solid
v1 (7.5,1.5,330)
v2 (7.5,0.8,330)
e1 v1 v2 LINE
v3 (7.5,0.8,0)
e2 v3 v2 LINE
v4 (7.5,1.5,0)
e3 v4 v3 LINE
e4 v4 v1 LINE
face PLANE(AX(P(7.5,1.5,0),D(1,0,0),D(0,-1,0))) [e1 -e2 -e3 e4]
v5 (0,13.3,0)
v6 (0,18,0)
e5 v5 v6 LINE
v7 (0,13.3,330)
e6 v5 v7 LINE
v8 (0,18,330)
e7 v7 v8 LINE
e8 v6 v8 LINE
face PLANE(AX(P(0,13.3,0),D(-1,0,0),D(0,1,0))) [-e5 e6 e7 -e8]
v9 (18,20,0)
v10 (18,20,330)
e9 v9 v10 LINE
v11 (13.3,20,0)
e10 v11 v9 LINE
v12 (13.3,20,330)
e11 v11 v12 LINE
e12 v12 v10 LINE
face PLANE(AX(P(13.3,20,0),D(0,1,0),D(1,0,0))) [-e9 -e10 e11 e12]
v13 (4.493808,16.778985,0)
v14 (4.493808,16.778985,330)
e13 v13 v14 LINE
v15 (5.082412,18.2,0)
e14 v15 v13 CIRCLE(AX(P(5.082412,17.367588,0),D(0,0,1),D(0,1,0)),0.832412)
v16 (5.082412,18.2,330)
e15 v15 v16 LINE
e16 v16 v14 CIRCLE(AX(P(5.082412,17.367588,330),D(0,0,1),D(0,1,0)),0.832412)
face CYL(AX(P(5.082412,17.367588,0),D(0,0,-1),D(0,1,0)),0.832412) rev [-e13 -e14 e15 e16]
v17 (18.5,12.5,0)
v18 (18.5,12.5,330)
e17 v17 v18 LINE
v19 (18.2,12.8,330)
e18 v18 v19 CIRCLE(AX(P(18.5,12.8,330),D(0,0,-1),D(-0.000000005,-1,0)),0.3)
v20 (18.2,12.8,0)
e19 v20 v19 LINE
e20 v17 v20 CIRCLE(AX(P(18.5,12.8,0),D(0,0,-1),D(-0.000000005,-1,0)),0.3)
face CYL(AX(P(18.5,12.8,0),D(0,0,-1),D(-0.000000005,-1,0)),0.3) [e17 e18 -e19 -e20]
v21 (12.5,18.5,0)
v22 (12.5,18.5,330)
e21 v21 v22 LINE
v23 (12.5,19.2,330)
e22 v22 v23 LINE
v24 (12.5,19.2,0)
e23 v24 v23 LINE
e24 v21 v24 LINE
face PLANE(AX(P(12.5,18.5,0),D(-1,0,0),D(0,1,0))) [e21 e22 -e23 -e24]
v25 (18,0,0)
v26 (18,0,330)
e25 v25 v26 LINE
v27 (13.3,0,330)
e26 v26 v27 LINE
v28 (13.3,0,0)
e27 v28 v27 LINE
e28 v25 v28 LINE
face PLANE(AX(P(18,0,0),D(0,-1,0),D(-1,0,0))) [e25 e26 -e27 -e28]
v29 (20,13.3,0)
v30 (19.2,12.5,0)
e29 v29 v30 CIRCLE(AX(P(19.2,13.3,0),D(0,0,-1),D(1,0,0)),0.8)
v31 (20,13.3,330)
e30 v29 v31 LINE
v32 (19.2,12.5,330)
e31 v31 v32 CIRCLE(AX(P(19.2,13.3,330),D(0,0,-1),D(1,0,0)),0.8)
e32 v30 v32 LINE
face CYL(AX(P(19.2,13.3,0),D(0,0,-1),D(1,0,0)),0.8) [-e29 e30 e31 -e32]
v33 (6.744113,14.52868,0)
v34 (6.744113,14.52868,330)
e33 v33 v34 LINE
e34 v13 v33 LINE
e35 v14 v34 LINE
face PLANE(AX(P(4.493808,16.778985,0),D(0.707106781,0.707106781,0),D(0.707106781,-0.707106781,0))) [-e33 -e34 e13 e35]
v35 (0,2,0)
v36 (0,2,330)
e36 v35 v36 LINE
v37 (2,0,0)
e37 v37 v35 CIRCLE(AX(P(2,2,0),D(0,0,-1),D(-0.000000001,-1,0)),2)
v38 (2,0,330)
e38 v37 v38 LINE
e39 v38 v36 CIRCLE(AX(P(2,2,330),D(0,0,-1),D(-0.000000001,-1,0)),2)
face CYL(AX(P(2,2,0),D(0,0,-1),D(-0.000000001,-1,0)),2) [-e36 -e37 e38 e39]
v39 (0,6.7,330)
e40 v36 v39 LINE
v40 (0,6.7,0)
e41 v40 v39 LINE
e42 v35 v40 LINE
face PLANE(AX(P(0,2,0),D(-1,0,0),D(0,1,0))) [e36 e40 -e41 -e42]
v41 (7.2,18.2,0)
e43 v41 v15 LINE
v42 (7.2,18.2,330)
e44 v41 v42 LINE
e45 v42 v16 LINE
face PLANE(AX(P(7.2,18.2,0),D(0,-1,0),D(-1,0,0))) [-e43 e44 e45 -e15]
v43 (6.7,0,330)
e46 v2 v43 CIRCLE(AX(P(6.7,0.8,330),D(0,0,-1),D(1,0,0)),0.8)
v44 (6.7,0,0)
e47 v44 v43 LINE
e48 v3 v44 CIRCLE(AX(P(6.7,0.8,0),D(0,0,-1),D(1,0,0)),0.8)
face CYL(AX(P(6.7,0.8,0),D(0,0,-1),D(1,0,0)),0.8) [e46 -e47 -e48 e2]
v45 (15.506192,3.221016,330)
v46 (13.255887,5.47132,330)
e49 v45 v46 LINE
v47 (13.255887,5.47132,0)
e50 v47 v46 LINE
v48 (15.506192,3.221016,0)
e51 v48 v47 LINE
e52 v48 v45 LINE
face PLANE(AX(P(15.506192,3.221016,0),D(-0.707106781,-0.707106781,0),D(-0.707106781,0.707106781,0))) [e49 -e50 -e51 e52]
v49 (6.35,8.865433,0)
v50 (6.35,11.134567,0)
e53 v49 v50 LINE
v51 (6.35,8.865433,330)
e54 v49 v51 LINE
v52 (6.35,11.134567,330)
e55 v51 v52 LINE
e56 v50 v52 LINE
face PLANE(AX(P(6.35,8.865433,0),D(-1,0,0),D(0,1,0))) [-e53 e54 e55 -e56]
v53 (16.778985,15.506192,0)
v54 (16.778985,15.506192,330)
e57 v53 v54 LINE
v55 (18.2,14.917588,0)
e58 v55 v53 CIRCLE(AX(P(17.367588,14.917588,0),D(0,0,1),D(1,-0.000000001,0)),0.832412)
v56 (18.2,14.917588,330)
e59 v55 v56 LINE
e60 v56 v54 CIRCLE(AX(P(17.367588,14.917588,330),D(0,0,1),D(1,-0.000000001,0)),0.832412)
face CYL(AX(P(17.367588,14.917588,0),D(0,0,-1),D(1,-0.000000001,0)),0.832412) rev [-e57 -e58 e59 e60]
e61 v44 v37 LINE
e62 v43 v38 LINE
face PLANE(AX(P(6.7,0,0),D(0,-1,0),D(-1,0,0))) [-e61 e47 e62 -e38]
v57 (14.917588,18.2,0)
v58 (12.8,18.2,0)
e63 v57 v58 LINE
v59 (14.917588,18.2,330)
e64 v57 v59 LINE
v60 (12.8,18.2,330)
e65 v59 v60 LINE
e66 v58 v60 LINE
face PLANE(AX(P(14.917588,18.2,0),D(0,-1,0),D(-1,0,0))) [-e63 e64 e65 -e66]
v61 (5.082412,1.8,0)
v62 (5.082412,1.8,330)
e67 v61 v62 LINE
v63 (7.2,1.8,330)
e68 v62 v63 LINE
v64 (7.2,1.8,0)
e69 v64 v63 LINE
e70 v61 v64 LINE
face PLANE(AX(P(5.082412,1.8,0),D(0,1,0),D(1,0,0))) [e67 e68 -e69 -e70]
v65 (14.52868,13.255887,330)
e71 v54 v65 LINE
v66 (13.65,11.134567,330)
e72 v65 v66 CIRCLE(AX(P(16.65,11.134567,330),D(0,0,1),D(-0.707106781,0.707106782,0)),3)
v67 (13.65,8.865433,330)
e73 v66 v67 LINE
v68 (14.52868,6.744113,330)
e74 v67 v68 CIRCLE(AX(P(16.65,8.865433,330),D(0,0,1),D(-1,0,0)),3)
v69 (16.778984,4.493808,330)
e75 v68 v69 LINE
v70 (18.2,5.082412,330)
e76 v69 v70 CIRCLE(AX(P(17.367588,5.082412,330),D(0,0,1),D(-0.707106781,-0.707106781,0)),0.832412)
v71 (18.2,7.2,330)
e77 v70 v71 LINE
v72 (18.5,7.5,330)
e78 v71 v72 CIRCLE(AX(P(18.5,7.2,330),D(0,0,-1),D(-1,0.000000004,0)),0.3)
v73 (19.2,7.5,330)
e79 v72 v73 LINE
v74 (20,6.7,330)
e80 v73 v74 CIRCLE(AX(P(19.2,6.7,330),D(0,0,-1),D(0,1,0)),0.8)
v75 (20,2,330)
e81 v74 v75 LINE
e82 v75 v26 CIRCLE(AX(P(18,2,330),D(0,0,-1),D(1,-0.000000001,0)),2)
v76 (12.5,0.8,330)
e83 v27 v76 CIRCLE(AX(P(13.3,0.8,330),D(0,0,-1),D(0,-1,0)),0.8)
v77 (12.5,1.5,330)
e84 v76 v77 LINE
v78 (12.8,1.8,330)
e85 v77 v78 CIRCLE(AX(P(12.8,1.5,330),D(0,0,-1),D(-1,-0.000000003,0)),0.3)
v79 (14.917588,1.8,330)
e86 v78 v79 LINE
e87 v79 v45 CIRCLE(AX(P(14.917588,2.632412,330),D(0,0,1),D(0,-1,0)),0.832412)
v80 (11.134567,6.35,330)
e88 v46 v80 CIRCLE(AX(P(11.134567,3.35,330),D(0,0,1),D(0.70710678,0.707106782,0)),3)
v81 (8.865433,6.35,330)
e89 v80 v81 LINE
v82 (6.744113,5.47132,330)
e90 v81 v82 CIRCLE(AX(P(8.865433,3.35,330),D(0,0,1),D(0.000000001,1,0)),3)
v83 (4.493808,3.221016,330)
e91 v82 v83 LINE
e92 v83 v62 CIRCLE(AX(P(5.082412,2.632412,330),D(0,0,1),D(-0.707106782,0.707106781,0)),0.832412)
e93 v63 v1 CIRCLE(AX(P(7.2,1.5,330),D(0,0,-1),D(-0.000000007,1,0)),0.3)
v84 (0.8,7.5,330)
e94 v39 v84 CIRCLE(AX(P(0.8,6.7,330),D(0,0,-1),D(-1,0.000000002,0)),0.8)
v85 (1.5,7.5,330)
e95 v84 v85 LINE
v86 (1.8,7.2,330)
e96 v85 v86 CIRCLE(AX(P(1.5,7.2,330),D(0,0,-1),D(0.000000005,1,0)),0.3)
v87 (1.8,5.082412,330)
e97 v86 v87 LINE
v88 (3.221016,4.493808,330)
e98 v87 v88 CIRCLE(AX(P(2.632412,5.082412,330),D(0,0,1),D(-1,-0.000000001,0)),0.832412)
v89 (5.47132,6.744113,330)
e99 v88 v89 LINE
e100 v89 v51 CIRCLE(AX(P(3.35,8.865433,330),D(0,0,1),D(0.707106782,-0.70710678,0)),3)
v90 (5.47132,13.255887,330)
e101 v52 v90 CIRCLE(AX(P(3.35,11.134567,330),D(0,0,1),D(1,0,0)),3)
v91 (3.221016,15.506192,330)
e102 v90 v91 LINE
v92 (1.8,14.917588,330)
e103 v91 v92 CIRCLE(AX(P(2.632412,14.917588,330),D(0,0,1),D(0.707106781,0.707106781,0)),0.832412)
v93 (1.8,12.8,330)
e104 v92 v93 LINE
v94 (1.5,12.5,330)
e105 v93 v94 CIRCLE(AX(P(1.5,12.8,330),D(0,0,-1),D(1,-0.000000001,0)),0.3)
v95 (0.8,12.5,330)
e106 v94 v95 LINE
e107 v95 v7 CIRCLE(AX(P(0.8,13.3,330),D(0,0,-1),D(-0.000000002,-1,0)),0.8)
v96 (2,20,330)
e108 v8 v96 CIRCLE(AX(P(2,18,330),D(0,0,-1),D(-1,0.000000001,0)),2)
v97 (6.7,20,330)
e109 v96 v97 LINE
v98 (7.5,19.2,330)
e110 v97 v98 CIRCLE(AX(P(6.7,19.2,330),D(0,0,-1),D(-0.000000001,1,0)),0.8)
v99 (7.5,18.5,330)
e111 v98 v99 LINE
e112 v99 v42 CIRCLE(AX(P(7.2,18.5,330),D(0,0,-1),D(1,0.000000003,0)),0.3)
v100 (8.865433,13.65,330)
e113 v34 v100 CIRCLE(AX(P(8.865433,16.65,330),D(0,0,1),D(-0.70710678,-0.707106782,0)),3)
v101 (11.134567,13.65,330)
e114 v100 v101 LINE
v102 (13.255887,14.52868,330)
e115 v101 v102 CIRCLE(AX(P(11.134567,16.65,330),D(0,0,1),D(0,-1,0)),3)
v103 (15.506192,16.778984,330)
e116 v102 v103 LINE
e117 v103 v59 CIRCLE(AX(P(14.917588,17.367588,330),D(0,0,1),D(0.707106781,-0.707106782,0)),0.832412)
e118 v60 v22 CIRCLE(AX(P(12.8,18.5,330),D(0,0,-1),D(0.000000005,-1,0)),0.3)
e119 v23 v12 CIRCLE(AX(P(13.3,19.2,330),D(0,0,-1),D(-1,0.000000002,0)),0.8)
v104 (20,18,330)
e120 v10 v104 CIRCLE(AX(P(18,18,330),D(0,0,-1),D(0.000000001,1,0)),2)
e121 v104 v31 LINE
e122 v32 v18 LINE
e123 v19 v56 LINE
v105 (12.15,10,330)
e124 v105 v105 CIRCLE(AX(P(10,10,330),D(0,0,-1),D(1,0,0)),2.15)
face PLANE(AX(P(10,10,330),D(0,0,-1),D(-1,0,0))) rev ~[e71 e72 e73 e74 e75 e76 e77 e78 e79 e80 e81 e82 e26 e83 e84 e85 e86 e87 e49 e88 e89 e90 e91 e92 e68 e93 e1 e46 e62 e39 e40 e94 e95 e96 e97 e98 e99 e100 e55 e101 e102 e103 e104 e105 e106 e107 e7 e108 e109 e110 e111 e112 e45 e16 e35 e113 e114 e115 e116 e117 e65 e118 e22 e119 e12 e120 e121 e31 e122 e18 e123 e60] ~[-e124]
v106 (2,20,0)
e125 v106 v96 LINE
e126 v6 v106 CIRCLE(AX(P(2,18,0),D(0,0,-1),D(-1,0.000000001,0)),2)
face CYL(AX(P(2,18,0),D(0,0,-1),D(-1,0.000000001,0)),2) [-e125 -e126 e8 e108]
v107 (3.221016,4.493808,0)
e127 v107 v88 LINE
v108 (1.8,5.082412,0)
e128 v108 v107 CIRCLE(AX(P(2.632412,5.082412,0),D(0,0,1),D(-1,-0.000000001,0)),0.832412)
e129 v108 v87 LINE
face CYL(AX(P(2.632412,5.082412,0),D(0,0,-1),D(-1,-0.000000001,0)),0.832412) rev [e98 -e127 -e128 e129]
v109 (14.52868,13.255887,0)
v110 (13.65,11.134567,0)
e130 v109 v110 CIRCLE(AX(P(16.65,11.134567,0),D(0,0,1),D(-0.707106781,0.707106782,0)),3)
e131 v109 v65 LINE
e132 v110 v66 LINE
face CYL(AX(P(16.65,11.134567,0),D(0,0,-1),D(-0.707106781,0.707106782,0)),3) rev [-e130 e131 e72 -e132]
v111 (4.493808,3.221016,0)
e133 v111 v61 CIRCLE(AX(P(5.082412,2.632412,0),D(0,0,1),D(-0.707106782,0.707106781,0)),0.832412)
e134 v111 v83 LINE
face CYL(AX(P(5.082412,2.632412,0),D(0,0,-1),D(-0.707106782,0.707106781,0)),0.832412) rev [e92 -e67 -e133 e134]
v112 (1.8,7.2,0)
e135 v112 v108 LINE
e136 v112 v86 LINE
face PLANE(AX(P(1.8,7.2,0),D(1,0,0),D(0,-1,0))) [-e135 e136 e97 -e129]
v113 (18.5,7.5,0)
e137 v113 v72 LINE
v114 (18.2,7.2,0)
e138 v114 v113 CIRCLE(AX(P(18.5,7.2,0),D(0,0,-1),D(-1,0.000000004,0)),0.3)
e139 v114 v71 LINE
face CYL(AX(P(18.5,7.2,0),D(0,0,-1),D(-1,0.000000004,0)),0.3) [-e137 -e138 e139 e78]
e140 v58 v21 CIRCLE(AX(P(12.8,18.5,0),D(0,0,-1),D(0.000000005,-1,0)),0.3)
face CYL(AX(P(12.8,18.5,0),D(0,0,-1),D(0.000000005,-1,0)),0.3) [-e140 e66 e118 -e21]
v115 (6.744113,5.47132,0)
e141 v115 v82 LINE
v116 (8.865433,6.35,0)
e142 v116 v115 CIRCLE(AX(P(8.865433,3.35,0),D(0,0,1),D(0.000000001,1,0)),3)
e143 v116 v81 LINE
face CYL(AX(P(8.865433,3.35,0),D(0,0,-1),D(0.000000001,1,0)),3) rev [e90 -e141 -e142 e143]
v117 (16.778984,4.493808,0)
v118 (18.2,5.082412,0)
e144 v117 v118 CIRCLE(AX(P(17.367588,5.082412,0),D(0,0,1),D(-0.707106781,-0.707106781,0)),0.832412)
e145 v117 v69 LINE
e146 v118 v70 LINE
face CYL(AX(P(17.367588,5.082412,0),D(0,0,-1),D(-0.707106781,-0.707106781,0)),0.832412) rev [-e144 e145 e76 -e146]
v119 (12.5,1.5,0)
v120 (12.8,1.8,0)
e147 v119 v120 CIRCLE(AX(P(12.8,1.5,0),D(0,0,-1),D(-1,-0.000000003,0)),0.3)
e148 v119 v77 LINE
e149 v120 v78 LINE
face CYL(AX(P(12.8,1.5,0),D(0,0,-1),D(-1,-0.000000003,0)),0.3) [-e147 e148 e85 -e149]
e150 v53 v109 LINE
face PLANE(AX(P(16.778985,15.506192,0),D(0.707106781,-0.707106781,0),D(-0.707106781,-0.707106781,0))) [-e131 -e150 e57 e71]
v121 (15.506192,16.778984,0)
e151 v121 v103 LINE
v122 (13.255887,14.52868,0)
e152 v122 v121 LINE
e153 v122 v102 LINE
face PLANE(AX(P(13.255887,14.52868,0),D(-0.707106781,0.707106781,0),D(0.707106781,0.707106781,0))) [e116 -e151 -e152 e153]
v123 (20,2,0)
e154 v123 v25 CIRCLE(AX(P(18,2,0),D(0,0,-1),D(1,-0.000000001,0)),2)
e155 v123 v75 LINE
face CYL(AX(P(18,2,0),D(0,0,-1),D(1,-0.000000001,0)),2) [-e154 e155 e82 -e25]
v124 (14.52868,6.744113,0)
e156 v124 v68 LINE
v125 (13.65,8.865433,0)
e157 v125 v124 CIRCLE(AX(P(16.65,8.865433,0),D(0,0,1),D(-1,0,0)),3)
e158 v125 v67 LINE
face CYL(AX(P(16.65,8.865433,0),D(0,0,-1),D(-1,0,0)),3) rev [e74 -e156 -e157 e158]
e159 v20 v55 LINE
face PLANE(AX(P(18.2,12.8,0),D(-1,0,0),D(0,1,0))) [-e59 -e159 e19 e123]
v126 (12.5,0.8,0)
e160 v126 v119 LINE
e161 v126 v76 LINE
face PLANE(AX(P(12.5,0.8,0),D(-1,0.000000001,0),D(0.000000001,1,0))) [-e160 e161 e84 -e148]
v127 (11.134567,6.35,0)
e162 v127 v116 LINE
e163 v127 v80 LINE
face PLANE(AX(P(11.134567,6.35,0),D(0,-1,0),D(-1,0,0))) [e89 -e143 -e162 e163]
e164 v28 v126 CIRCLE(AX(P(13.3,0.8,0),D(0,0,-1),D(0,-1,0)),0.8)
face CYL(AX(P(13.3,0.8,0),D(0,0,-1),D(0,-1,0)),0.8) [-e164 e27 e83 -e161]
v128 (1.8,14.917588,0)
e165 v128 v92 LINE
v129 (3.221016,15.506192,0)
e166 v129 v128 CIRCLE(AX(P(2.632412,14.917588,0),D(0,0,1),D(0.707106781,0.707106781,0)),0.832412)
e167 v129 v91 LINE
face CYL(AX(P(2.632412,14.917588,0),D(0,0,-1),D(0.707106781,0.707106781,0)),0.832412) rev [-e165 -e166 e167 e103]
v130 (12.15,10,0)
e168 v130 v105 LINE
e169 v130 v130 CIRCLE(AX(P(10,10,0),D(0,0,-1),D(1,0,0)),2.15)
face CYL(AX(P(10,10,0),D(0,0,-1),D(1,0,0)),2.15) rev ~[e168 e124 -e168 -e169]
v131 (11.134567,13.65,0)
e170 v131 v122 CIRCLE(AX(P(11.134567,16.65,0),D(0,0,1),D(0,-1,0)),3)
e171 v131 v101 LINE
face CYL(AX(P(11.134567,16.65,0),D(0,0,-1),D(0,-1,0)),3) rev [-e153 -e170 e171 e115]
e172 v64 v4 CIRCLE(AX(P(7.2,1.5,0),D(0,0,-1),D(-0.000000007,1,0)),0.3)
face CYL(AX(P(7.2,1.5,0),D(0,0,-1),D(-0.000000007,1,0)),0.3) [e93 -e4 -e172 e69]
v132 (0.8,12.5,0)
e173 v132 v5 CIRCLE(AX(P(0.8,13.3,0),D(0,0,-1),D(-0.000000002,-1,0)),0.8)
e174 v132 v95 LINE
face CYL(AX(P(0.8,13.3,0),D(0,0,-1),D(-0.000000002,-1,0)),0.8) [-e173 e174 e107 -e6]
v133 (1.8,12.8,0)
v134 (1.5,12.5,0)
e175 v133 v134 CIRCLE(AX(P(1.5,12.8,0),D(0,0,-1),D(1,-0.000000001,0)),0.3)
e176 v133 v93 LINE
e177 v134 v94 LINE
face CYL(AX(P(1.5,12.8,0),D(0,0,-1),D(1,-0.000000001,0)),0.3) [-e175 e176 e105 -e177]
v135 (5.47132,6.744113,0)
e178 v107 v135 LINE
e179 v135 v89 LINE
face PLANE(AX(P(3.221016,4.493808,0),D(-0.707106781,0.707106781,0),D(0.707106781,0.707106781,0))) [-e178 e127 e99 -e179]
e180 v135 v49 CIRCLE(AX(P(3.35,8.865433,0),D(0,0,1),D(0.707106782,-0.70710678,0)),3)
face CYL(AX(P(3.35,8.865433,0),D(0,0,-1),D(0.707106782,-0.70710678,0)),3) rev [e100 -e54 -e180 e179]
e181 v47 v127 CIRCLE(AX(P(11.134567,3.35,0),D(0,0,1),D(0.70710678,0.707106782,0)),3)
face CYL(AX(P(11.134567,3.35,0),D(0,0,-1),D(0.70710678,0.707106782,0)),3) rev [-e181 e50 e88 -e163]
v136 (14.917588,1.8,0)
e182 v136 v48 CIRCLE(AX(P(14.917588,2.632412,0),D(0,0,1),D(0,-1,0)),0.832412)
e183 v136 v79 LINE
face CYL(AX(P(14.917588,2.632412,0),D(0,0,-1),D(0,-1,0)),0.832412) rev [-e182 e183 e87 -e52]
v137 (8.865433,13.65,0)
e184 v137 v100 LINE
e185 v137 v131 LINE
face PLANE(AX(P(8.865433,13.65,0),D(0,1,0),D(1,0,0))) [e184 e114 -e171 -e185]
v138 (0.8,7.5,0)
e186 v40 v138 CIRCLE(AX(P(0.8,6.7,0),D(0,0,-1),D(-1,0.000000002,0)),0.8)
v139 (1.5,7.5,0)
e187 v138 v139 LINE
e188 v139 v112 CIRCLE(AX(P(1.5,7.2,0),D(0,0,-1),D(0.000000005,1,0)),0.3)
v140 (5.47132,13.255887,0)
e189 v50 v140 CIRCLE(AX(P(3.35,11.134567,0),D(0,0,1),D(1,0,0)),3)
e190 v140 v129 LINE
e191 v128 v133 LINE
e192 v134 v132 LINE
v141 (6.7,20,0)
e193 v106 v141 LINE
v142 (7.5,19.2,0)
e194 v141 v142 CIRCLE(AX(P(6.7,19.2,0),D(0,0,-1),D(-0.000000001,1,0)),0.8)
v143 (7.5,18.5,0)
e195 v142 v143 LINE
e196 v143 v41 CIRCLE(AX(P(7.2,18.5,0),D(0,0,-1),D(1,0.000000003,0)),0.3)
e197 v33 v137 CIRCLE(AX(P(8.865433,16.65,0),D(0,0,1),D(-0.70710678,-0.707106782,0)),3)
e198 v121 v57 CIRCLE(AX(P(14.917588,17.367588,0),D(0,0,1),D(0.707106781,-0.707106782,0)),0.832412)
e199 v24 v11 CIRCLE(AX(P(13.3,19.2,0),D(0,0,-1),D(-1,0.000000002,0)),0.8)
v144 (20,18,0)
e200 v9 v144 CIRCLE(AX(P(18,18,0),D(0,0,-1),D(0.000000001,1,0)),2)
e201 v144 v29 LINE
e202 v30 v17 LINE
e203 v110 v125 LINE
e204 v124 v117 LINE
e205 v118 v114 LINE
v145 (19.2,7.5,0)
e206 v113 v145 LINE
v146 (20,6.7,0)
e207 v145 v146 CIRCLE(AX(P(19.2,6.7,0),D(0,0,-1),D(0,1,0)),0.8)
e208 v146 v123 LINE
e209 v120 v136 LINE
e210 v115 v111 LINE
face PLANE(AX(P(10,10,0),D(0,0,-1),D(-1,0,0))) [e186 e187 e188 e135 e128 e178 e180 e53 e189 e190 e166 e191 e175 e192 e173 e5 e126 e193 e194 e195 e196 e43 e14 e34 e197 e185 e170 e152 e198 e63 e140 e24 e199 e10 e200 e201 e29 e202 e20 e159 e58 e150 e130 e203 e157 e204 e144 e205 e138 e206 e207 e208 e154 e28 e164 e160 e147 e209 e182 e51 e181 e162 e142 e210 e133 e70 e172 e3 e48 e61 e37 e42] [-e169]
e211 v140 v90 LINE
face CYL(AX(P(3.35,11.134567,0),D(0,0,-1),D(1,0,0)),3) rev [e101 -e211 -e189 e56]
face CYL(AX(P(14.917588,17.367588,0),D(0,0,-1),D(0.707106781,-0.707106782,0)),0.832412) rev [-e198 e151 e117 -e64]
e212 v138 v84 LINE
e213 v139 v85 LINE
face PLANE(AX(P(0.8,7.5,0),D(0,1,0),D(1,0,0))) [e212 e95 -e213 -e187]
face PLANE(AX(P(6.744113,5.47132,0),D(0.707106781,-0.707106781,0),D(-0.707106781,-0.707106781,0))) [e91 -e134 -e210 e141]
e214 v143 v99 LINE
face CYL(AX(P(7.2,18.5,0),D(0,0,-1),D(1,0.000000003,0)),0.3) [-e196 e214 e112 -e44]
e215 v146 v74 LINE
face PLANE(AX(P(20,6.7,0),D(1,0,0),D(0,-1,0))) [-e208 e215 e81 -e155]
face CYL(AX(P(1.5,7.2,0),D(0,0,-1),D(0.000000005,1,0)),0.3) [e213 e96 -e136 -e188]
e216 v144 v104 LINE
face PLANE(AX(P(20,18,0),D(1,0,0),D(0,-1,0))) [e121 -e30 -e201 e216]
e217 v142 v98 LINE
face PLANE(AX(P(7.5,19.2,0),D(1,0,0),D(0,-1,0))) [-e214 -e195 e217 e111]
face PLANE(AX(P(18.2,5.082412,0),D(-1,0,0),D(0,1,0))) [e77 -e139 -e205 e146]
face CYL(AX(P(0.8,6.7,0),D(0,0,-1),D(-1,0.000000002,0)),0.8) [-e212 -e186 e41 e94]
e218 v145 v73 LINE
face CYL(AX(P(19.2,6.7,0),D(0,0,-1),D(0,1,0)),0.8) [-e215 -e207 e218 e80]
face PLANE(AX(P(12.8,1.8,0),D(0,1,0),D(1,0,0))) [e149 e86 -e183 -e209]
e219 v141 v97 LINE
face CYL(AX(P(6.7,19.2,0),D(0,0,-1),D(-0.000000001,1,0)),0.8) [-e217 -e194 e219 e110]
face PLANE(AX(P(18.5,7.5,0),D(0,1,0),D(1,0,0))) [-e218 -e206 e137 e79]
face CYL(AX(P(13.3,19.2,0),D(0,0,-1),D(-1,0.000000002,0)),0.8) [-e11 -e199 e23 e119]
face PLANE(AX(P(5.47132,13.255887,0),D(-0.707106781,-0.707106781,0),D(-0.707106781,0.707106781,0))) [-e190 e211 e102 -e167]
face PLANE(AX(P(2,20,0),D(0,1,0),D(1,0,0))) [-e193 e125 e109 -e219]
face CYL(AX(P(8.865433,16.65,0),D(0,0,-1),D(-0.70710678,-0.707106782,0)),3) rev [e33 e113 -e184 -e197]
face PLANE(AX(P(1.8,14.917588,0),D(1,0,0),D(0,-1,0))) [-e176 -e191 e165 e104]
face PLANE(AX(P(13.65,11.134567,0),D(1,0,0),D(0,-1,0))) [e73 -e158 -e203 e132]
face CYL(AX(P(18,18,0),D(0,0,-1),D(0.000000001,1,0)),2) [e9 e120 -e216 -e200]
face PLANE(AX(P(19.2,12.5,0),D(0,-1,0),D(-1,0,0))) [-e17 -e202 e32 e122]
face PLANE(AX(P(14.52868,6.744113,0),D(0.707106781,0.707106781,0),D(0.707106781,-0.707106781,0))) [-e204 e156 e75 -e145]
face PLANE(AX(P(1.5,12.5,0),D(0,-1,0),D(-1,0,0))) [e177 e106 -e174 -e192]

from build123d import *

# Parameters (mm, degrees)
ESQUISSE1_R        = 2.15
BOSS_EXTRU_1_DEPTH = 330


with BuildPart() as part:
    # Esquisse1 → Boss.-Extru.1 (new body)
    with BuildSketch(Plane(origin=(0, 0, 0), x_dir=(-1, 0, 0), z_dir=(0, 0, -1))):
        with BuildLine():
            Line((-12.499999997, 0.800000003), (-12.499999998, 1.500000003))
            ThreePointArc((-12.499999998, 1.500000003), (-12.587867964, 1.712132039), (-12.8, 1.800000005))
            Line((-12.8, 1.800000005), (-14.9175884, 1.800000005))
            ThreePointArc((-14.9175884, 1.800000005), (-15.686636444, 2.31386148), (-15.50619229, 3.2210155))
            Line((-15.50619229, 3.2210155), (-13.25588745, 5.47132034))
            ThreePointArc((-13.25588745, 5.47132034), (-12.282617404, 6.121638593), (-11.134567108, 6.349999996))
            Line((-11.134567108, 6.349999996), (-8.865432907, 6.349999996))
            ThreePointArc((-8.865432907, 6.349999996), (-7.717382611, 6.121638594), (-6.744112567, 5.471320341))
            Line((-6.744112567, 5.471320341), (-4.493807729, 3.221015503))
            ThreePointArc((-4.493807729, 3.221015503), (-4.313363575, 2.313861481), (-5.082411621, 1.800000005))
            Line((-5.082411621, 1.800000005), (-7.20000001, 1.800000005))
            ThreePointArc((-7.20000001, 1.800000005), (-7.412132045, 1.71213204), (-7.50000001, 1.500000005))
            Line((-7.50000001, 1.500000005), (-7.50000001, 0.8))
            ThreePointArc((-7.50000001, 0.8), (-7.265685435, 0.234314575), (-6.70000001, 0))
            Line((-6.70000001, 0), (-2, 0))
            ThreePointArc((-2, 0), (-0.585786438, 0.585786438), (0, 2))
            Line((0, 2), (0, 6.699999998))
            ThreePointArc((0, 6.699999998), (-0.234314576, 7.265685424), (-0.800000003, 7.5))
            Line((-0.800000003, 7.5), (-1.50000001, 7.5))
            ThreePointArc((-1.50000001, 7.5), (-1.712132046, 7.412132033), (-1.800000013, 7.199999997))
            Line((-1.800000013, 7.199999997), (-1.800000013, 5.082411603))
            ThreePointArc((-1.800000013, 5.082411603), (-2.313861487, 4.31336356), (-3.221015507, 4.493807713))
            Line((-3.221015507, 4.493807713), (-5.471320347, 6.744112553))
            ThreePointArc((-5.471320347, 6.744112553), (-6.1216386, 7.717382599), (-6.350000003, 8.865432896))
            Line((-6.350000003, 8.865432896), (-6.350000003, 11.134567102))
            ThreePointArc((-6.350000003, 11.134567102), (-6.121638601, 12.282617397), (-5.471320348, 13.255887442))
            Line((-5.471320348, 13.255887442), (-3.221015512, 15.506192278))
            ThreePointArc((-3.221015512, 15.506192278), (-2.313861489, 15.686636432), (-1.800000013, 14.917588386))
            Line((-1.800000013, 14.917588386), (-1.800000013, 12.799999998))
            ThreePointArc((-1.800000013, 12.799999998), (-1.712132047, 12.587867963), (-1.500000013, 12.499999997))
            Line((-1.500000013, 12.499999997), (-0.8, 12.499999997))
            ThreePointArc((-0.8, 12.499999997), (-0.234314575, 12.734314573), (0, 13.299999998))
            Line((0, 13.299999998), (0, 18))
            ThreePointArc((0, 18), (-0.585786438, 19.414213562), (-2, 20))
            Line((-2, 20), (-6.700000008, 20))
            ThreePointArc((-6.700000008, 20), (-7.265685435, 19.765685424), (-7.50000001, 19.199999998))
            Line((-7.50000001, 19.199999998), (-7.50000001, 18.500000005))
            ThreePointArc((-7.50000001, 18.500000005), (-7.412132044, 18.287867969), (-7.200000008, 18.200000003))
            Line((-7.200000008, 18.200000003), (-5.082411594, 18.200000003))
            ThreePointArc((-5.082411594, 18.200000003), (-4.313363546, 17.686138526), (-4.493807701, 16.778984501))
            Line((-4.493807701, 16.778984501), (-6.744112542, 14.528679659))
            ThreePointArc((-6.744112542, 14.528679659), (-7.717382588, 13.878361406), (-8.865432885, 13.650000003))
            Line((-8.865432885, 13.650000003), (-11.134567112, 13.650000003))
            ThreePointArc((-11.134567112, 13.650000003), (-12.282617407, 13.878361405), (-13.255887452, 14.528679658))
            Line((-13.255887452, 14.528679658), (-15.506192292, 16.778984498))
            ThreePointArc((-15.506192292, 16.778984498), (-15.686636447, 17.686138525), (-14.917588397, 18.200000002))
            Line((-14.917588397, 18.200000002), (-12.799999998, 18.200000003))
            ThreePointArc((-12.799999998, 18.200000003), (-12.587867963, 18.287867968), (-12.499999997, 18.500000002))
            Line((-12.499999997, 18.500000002), (-12.499999997, 19.2))
            ThreePointArc((-12.499999997, 19.2), (-12.734314573, 19.765685425), (-13.299999998, 20))
            Line((-13.299999998, 20), (-18, 20))
            ThreePointArc((-18, 20), (-19.414213562, 19.414213562), (-20, 18))
            Line((-20, 18), (-20, 13.3))
            ThreePointArc((-20, 13.3), (-19.765685424, 12.734314573), (-19.199999998, 12.499999997))
            Line((-19.199999998, 12.499999997), (-18.500000003, 12.499999997))
            ThreePointArc((-18.500000003, 12.499999997), (-18.287867967, 12.587867964), (-18.2, 12.8))
            Line((-18.2, 12.8), (-18.2, 14.91758839))
            ThreePointArc((-18.2, 14.91758839), (-17.686138526, 15.686636434), (-16.778984506, 15.50619228))
            Line((-16.778984506, 15.50619228), (-14.528679657, 13.255887431))
            ThreePointArc((-14.528679657, 13.255887431), (-13.878361403, 12.282617385), (-13.650000001, 11.134567088))
            Line((-13.650000001, 11.134567088), (-13.650000001, 8.865432886))
            ThreePointArc((-13.650000001, 8.865432886), (-13.878361403, 7.717382591), (-14.528679656, 6.744112546))
            Line((-14.528679656, 6.744112546), (-16.778984496, 4.493807706))
            ThreePointArc((-16.778984496, 4.493807706), (-17.686138522, 4.313363551), (-18.2, 5.0824116))
            Line((-18.2, 5.0824116), (-18.2, 7.2))
            ThreePointArc((-18.2, 7.2), (-18.287867966, 7.412132034), (-18.5, 7.5))
            Line((-18.5, 7.5), (-19.2, 7.5))
            ThreePointArc((-19.2, 7.5), (-19.765685425, 7.265685425), (-20, 6.7))
            Line((-20, 6.7), (-20, 2))
            ThreePointArc((-20, 2), (-19.414213562, 0.585786438), (-18, 0))
            Line((-18, 0), (-13.3, 0))
            ThreePointArc((-13.3, 0), (-12.734314573, 0.234314576), (-12.499999997, 0.800000003))
        make_face()
        with Locations(Location((-10, 10, 0), (0, 0, 180))):
            Circle(ESQUISSE1_R, mode=Mode.SUBTRACT)
    extrude(amount=-BOSS_EXTRU_1_DEPTH)


solid = part.part
